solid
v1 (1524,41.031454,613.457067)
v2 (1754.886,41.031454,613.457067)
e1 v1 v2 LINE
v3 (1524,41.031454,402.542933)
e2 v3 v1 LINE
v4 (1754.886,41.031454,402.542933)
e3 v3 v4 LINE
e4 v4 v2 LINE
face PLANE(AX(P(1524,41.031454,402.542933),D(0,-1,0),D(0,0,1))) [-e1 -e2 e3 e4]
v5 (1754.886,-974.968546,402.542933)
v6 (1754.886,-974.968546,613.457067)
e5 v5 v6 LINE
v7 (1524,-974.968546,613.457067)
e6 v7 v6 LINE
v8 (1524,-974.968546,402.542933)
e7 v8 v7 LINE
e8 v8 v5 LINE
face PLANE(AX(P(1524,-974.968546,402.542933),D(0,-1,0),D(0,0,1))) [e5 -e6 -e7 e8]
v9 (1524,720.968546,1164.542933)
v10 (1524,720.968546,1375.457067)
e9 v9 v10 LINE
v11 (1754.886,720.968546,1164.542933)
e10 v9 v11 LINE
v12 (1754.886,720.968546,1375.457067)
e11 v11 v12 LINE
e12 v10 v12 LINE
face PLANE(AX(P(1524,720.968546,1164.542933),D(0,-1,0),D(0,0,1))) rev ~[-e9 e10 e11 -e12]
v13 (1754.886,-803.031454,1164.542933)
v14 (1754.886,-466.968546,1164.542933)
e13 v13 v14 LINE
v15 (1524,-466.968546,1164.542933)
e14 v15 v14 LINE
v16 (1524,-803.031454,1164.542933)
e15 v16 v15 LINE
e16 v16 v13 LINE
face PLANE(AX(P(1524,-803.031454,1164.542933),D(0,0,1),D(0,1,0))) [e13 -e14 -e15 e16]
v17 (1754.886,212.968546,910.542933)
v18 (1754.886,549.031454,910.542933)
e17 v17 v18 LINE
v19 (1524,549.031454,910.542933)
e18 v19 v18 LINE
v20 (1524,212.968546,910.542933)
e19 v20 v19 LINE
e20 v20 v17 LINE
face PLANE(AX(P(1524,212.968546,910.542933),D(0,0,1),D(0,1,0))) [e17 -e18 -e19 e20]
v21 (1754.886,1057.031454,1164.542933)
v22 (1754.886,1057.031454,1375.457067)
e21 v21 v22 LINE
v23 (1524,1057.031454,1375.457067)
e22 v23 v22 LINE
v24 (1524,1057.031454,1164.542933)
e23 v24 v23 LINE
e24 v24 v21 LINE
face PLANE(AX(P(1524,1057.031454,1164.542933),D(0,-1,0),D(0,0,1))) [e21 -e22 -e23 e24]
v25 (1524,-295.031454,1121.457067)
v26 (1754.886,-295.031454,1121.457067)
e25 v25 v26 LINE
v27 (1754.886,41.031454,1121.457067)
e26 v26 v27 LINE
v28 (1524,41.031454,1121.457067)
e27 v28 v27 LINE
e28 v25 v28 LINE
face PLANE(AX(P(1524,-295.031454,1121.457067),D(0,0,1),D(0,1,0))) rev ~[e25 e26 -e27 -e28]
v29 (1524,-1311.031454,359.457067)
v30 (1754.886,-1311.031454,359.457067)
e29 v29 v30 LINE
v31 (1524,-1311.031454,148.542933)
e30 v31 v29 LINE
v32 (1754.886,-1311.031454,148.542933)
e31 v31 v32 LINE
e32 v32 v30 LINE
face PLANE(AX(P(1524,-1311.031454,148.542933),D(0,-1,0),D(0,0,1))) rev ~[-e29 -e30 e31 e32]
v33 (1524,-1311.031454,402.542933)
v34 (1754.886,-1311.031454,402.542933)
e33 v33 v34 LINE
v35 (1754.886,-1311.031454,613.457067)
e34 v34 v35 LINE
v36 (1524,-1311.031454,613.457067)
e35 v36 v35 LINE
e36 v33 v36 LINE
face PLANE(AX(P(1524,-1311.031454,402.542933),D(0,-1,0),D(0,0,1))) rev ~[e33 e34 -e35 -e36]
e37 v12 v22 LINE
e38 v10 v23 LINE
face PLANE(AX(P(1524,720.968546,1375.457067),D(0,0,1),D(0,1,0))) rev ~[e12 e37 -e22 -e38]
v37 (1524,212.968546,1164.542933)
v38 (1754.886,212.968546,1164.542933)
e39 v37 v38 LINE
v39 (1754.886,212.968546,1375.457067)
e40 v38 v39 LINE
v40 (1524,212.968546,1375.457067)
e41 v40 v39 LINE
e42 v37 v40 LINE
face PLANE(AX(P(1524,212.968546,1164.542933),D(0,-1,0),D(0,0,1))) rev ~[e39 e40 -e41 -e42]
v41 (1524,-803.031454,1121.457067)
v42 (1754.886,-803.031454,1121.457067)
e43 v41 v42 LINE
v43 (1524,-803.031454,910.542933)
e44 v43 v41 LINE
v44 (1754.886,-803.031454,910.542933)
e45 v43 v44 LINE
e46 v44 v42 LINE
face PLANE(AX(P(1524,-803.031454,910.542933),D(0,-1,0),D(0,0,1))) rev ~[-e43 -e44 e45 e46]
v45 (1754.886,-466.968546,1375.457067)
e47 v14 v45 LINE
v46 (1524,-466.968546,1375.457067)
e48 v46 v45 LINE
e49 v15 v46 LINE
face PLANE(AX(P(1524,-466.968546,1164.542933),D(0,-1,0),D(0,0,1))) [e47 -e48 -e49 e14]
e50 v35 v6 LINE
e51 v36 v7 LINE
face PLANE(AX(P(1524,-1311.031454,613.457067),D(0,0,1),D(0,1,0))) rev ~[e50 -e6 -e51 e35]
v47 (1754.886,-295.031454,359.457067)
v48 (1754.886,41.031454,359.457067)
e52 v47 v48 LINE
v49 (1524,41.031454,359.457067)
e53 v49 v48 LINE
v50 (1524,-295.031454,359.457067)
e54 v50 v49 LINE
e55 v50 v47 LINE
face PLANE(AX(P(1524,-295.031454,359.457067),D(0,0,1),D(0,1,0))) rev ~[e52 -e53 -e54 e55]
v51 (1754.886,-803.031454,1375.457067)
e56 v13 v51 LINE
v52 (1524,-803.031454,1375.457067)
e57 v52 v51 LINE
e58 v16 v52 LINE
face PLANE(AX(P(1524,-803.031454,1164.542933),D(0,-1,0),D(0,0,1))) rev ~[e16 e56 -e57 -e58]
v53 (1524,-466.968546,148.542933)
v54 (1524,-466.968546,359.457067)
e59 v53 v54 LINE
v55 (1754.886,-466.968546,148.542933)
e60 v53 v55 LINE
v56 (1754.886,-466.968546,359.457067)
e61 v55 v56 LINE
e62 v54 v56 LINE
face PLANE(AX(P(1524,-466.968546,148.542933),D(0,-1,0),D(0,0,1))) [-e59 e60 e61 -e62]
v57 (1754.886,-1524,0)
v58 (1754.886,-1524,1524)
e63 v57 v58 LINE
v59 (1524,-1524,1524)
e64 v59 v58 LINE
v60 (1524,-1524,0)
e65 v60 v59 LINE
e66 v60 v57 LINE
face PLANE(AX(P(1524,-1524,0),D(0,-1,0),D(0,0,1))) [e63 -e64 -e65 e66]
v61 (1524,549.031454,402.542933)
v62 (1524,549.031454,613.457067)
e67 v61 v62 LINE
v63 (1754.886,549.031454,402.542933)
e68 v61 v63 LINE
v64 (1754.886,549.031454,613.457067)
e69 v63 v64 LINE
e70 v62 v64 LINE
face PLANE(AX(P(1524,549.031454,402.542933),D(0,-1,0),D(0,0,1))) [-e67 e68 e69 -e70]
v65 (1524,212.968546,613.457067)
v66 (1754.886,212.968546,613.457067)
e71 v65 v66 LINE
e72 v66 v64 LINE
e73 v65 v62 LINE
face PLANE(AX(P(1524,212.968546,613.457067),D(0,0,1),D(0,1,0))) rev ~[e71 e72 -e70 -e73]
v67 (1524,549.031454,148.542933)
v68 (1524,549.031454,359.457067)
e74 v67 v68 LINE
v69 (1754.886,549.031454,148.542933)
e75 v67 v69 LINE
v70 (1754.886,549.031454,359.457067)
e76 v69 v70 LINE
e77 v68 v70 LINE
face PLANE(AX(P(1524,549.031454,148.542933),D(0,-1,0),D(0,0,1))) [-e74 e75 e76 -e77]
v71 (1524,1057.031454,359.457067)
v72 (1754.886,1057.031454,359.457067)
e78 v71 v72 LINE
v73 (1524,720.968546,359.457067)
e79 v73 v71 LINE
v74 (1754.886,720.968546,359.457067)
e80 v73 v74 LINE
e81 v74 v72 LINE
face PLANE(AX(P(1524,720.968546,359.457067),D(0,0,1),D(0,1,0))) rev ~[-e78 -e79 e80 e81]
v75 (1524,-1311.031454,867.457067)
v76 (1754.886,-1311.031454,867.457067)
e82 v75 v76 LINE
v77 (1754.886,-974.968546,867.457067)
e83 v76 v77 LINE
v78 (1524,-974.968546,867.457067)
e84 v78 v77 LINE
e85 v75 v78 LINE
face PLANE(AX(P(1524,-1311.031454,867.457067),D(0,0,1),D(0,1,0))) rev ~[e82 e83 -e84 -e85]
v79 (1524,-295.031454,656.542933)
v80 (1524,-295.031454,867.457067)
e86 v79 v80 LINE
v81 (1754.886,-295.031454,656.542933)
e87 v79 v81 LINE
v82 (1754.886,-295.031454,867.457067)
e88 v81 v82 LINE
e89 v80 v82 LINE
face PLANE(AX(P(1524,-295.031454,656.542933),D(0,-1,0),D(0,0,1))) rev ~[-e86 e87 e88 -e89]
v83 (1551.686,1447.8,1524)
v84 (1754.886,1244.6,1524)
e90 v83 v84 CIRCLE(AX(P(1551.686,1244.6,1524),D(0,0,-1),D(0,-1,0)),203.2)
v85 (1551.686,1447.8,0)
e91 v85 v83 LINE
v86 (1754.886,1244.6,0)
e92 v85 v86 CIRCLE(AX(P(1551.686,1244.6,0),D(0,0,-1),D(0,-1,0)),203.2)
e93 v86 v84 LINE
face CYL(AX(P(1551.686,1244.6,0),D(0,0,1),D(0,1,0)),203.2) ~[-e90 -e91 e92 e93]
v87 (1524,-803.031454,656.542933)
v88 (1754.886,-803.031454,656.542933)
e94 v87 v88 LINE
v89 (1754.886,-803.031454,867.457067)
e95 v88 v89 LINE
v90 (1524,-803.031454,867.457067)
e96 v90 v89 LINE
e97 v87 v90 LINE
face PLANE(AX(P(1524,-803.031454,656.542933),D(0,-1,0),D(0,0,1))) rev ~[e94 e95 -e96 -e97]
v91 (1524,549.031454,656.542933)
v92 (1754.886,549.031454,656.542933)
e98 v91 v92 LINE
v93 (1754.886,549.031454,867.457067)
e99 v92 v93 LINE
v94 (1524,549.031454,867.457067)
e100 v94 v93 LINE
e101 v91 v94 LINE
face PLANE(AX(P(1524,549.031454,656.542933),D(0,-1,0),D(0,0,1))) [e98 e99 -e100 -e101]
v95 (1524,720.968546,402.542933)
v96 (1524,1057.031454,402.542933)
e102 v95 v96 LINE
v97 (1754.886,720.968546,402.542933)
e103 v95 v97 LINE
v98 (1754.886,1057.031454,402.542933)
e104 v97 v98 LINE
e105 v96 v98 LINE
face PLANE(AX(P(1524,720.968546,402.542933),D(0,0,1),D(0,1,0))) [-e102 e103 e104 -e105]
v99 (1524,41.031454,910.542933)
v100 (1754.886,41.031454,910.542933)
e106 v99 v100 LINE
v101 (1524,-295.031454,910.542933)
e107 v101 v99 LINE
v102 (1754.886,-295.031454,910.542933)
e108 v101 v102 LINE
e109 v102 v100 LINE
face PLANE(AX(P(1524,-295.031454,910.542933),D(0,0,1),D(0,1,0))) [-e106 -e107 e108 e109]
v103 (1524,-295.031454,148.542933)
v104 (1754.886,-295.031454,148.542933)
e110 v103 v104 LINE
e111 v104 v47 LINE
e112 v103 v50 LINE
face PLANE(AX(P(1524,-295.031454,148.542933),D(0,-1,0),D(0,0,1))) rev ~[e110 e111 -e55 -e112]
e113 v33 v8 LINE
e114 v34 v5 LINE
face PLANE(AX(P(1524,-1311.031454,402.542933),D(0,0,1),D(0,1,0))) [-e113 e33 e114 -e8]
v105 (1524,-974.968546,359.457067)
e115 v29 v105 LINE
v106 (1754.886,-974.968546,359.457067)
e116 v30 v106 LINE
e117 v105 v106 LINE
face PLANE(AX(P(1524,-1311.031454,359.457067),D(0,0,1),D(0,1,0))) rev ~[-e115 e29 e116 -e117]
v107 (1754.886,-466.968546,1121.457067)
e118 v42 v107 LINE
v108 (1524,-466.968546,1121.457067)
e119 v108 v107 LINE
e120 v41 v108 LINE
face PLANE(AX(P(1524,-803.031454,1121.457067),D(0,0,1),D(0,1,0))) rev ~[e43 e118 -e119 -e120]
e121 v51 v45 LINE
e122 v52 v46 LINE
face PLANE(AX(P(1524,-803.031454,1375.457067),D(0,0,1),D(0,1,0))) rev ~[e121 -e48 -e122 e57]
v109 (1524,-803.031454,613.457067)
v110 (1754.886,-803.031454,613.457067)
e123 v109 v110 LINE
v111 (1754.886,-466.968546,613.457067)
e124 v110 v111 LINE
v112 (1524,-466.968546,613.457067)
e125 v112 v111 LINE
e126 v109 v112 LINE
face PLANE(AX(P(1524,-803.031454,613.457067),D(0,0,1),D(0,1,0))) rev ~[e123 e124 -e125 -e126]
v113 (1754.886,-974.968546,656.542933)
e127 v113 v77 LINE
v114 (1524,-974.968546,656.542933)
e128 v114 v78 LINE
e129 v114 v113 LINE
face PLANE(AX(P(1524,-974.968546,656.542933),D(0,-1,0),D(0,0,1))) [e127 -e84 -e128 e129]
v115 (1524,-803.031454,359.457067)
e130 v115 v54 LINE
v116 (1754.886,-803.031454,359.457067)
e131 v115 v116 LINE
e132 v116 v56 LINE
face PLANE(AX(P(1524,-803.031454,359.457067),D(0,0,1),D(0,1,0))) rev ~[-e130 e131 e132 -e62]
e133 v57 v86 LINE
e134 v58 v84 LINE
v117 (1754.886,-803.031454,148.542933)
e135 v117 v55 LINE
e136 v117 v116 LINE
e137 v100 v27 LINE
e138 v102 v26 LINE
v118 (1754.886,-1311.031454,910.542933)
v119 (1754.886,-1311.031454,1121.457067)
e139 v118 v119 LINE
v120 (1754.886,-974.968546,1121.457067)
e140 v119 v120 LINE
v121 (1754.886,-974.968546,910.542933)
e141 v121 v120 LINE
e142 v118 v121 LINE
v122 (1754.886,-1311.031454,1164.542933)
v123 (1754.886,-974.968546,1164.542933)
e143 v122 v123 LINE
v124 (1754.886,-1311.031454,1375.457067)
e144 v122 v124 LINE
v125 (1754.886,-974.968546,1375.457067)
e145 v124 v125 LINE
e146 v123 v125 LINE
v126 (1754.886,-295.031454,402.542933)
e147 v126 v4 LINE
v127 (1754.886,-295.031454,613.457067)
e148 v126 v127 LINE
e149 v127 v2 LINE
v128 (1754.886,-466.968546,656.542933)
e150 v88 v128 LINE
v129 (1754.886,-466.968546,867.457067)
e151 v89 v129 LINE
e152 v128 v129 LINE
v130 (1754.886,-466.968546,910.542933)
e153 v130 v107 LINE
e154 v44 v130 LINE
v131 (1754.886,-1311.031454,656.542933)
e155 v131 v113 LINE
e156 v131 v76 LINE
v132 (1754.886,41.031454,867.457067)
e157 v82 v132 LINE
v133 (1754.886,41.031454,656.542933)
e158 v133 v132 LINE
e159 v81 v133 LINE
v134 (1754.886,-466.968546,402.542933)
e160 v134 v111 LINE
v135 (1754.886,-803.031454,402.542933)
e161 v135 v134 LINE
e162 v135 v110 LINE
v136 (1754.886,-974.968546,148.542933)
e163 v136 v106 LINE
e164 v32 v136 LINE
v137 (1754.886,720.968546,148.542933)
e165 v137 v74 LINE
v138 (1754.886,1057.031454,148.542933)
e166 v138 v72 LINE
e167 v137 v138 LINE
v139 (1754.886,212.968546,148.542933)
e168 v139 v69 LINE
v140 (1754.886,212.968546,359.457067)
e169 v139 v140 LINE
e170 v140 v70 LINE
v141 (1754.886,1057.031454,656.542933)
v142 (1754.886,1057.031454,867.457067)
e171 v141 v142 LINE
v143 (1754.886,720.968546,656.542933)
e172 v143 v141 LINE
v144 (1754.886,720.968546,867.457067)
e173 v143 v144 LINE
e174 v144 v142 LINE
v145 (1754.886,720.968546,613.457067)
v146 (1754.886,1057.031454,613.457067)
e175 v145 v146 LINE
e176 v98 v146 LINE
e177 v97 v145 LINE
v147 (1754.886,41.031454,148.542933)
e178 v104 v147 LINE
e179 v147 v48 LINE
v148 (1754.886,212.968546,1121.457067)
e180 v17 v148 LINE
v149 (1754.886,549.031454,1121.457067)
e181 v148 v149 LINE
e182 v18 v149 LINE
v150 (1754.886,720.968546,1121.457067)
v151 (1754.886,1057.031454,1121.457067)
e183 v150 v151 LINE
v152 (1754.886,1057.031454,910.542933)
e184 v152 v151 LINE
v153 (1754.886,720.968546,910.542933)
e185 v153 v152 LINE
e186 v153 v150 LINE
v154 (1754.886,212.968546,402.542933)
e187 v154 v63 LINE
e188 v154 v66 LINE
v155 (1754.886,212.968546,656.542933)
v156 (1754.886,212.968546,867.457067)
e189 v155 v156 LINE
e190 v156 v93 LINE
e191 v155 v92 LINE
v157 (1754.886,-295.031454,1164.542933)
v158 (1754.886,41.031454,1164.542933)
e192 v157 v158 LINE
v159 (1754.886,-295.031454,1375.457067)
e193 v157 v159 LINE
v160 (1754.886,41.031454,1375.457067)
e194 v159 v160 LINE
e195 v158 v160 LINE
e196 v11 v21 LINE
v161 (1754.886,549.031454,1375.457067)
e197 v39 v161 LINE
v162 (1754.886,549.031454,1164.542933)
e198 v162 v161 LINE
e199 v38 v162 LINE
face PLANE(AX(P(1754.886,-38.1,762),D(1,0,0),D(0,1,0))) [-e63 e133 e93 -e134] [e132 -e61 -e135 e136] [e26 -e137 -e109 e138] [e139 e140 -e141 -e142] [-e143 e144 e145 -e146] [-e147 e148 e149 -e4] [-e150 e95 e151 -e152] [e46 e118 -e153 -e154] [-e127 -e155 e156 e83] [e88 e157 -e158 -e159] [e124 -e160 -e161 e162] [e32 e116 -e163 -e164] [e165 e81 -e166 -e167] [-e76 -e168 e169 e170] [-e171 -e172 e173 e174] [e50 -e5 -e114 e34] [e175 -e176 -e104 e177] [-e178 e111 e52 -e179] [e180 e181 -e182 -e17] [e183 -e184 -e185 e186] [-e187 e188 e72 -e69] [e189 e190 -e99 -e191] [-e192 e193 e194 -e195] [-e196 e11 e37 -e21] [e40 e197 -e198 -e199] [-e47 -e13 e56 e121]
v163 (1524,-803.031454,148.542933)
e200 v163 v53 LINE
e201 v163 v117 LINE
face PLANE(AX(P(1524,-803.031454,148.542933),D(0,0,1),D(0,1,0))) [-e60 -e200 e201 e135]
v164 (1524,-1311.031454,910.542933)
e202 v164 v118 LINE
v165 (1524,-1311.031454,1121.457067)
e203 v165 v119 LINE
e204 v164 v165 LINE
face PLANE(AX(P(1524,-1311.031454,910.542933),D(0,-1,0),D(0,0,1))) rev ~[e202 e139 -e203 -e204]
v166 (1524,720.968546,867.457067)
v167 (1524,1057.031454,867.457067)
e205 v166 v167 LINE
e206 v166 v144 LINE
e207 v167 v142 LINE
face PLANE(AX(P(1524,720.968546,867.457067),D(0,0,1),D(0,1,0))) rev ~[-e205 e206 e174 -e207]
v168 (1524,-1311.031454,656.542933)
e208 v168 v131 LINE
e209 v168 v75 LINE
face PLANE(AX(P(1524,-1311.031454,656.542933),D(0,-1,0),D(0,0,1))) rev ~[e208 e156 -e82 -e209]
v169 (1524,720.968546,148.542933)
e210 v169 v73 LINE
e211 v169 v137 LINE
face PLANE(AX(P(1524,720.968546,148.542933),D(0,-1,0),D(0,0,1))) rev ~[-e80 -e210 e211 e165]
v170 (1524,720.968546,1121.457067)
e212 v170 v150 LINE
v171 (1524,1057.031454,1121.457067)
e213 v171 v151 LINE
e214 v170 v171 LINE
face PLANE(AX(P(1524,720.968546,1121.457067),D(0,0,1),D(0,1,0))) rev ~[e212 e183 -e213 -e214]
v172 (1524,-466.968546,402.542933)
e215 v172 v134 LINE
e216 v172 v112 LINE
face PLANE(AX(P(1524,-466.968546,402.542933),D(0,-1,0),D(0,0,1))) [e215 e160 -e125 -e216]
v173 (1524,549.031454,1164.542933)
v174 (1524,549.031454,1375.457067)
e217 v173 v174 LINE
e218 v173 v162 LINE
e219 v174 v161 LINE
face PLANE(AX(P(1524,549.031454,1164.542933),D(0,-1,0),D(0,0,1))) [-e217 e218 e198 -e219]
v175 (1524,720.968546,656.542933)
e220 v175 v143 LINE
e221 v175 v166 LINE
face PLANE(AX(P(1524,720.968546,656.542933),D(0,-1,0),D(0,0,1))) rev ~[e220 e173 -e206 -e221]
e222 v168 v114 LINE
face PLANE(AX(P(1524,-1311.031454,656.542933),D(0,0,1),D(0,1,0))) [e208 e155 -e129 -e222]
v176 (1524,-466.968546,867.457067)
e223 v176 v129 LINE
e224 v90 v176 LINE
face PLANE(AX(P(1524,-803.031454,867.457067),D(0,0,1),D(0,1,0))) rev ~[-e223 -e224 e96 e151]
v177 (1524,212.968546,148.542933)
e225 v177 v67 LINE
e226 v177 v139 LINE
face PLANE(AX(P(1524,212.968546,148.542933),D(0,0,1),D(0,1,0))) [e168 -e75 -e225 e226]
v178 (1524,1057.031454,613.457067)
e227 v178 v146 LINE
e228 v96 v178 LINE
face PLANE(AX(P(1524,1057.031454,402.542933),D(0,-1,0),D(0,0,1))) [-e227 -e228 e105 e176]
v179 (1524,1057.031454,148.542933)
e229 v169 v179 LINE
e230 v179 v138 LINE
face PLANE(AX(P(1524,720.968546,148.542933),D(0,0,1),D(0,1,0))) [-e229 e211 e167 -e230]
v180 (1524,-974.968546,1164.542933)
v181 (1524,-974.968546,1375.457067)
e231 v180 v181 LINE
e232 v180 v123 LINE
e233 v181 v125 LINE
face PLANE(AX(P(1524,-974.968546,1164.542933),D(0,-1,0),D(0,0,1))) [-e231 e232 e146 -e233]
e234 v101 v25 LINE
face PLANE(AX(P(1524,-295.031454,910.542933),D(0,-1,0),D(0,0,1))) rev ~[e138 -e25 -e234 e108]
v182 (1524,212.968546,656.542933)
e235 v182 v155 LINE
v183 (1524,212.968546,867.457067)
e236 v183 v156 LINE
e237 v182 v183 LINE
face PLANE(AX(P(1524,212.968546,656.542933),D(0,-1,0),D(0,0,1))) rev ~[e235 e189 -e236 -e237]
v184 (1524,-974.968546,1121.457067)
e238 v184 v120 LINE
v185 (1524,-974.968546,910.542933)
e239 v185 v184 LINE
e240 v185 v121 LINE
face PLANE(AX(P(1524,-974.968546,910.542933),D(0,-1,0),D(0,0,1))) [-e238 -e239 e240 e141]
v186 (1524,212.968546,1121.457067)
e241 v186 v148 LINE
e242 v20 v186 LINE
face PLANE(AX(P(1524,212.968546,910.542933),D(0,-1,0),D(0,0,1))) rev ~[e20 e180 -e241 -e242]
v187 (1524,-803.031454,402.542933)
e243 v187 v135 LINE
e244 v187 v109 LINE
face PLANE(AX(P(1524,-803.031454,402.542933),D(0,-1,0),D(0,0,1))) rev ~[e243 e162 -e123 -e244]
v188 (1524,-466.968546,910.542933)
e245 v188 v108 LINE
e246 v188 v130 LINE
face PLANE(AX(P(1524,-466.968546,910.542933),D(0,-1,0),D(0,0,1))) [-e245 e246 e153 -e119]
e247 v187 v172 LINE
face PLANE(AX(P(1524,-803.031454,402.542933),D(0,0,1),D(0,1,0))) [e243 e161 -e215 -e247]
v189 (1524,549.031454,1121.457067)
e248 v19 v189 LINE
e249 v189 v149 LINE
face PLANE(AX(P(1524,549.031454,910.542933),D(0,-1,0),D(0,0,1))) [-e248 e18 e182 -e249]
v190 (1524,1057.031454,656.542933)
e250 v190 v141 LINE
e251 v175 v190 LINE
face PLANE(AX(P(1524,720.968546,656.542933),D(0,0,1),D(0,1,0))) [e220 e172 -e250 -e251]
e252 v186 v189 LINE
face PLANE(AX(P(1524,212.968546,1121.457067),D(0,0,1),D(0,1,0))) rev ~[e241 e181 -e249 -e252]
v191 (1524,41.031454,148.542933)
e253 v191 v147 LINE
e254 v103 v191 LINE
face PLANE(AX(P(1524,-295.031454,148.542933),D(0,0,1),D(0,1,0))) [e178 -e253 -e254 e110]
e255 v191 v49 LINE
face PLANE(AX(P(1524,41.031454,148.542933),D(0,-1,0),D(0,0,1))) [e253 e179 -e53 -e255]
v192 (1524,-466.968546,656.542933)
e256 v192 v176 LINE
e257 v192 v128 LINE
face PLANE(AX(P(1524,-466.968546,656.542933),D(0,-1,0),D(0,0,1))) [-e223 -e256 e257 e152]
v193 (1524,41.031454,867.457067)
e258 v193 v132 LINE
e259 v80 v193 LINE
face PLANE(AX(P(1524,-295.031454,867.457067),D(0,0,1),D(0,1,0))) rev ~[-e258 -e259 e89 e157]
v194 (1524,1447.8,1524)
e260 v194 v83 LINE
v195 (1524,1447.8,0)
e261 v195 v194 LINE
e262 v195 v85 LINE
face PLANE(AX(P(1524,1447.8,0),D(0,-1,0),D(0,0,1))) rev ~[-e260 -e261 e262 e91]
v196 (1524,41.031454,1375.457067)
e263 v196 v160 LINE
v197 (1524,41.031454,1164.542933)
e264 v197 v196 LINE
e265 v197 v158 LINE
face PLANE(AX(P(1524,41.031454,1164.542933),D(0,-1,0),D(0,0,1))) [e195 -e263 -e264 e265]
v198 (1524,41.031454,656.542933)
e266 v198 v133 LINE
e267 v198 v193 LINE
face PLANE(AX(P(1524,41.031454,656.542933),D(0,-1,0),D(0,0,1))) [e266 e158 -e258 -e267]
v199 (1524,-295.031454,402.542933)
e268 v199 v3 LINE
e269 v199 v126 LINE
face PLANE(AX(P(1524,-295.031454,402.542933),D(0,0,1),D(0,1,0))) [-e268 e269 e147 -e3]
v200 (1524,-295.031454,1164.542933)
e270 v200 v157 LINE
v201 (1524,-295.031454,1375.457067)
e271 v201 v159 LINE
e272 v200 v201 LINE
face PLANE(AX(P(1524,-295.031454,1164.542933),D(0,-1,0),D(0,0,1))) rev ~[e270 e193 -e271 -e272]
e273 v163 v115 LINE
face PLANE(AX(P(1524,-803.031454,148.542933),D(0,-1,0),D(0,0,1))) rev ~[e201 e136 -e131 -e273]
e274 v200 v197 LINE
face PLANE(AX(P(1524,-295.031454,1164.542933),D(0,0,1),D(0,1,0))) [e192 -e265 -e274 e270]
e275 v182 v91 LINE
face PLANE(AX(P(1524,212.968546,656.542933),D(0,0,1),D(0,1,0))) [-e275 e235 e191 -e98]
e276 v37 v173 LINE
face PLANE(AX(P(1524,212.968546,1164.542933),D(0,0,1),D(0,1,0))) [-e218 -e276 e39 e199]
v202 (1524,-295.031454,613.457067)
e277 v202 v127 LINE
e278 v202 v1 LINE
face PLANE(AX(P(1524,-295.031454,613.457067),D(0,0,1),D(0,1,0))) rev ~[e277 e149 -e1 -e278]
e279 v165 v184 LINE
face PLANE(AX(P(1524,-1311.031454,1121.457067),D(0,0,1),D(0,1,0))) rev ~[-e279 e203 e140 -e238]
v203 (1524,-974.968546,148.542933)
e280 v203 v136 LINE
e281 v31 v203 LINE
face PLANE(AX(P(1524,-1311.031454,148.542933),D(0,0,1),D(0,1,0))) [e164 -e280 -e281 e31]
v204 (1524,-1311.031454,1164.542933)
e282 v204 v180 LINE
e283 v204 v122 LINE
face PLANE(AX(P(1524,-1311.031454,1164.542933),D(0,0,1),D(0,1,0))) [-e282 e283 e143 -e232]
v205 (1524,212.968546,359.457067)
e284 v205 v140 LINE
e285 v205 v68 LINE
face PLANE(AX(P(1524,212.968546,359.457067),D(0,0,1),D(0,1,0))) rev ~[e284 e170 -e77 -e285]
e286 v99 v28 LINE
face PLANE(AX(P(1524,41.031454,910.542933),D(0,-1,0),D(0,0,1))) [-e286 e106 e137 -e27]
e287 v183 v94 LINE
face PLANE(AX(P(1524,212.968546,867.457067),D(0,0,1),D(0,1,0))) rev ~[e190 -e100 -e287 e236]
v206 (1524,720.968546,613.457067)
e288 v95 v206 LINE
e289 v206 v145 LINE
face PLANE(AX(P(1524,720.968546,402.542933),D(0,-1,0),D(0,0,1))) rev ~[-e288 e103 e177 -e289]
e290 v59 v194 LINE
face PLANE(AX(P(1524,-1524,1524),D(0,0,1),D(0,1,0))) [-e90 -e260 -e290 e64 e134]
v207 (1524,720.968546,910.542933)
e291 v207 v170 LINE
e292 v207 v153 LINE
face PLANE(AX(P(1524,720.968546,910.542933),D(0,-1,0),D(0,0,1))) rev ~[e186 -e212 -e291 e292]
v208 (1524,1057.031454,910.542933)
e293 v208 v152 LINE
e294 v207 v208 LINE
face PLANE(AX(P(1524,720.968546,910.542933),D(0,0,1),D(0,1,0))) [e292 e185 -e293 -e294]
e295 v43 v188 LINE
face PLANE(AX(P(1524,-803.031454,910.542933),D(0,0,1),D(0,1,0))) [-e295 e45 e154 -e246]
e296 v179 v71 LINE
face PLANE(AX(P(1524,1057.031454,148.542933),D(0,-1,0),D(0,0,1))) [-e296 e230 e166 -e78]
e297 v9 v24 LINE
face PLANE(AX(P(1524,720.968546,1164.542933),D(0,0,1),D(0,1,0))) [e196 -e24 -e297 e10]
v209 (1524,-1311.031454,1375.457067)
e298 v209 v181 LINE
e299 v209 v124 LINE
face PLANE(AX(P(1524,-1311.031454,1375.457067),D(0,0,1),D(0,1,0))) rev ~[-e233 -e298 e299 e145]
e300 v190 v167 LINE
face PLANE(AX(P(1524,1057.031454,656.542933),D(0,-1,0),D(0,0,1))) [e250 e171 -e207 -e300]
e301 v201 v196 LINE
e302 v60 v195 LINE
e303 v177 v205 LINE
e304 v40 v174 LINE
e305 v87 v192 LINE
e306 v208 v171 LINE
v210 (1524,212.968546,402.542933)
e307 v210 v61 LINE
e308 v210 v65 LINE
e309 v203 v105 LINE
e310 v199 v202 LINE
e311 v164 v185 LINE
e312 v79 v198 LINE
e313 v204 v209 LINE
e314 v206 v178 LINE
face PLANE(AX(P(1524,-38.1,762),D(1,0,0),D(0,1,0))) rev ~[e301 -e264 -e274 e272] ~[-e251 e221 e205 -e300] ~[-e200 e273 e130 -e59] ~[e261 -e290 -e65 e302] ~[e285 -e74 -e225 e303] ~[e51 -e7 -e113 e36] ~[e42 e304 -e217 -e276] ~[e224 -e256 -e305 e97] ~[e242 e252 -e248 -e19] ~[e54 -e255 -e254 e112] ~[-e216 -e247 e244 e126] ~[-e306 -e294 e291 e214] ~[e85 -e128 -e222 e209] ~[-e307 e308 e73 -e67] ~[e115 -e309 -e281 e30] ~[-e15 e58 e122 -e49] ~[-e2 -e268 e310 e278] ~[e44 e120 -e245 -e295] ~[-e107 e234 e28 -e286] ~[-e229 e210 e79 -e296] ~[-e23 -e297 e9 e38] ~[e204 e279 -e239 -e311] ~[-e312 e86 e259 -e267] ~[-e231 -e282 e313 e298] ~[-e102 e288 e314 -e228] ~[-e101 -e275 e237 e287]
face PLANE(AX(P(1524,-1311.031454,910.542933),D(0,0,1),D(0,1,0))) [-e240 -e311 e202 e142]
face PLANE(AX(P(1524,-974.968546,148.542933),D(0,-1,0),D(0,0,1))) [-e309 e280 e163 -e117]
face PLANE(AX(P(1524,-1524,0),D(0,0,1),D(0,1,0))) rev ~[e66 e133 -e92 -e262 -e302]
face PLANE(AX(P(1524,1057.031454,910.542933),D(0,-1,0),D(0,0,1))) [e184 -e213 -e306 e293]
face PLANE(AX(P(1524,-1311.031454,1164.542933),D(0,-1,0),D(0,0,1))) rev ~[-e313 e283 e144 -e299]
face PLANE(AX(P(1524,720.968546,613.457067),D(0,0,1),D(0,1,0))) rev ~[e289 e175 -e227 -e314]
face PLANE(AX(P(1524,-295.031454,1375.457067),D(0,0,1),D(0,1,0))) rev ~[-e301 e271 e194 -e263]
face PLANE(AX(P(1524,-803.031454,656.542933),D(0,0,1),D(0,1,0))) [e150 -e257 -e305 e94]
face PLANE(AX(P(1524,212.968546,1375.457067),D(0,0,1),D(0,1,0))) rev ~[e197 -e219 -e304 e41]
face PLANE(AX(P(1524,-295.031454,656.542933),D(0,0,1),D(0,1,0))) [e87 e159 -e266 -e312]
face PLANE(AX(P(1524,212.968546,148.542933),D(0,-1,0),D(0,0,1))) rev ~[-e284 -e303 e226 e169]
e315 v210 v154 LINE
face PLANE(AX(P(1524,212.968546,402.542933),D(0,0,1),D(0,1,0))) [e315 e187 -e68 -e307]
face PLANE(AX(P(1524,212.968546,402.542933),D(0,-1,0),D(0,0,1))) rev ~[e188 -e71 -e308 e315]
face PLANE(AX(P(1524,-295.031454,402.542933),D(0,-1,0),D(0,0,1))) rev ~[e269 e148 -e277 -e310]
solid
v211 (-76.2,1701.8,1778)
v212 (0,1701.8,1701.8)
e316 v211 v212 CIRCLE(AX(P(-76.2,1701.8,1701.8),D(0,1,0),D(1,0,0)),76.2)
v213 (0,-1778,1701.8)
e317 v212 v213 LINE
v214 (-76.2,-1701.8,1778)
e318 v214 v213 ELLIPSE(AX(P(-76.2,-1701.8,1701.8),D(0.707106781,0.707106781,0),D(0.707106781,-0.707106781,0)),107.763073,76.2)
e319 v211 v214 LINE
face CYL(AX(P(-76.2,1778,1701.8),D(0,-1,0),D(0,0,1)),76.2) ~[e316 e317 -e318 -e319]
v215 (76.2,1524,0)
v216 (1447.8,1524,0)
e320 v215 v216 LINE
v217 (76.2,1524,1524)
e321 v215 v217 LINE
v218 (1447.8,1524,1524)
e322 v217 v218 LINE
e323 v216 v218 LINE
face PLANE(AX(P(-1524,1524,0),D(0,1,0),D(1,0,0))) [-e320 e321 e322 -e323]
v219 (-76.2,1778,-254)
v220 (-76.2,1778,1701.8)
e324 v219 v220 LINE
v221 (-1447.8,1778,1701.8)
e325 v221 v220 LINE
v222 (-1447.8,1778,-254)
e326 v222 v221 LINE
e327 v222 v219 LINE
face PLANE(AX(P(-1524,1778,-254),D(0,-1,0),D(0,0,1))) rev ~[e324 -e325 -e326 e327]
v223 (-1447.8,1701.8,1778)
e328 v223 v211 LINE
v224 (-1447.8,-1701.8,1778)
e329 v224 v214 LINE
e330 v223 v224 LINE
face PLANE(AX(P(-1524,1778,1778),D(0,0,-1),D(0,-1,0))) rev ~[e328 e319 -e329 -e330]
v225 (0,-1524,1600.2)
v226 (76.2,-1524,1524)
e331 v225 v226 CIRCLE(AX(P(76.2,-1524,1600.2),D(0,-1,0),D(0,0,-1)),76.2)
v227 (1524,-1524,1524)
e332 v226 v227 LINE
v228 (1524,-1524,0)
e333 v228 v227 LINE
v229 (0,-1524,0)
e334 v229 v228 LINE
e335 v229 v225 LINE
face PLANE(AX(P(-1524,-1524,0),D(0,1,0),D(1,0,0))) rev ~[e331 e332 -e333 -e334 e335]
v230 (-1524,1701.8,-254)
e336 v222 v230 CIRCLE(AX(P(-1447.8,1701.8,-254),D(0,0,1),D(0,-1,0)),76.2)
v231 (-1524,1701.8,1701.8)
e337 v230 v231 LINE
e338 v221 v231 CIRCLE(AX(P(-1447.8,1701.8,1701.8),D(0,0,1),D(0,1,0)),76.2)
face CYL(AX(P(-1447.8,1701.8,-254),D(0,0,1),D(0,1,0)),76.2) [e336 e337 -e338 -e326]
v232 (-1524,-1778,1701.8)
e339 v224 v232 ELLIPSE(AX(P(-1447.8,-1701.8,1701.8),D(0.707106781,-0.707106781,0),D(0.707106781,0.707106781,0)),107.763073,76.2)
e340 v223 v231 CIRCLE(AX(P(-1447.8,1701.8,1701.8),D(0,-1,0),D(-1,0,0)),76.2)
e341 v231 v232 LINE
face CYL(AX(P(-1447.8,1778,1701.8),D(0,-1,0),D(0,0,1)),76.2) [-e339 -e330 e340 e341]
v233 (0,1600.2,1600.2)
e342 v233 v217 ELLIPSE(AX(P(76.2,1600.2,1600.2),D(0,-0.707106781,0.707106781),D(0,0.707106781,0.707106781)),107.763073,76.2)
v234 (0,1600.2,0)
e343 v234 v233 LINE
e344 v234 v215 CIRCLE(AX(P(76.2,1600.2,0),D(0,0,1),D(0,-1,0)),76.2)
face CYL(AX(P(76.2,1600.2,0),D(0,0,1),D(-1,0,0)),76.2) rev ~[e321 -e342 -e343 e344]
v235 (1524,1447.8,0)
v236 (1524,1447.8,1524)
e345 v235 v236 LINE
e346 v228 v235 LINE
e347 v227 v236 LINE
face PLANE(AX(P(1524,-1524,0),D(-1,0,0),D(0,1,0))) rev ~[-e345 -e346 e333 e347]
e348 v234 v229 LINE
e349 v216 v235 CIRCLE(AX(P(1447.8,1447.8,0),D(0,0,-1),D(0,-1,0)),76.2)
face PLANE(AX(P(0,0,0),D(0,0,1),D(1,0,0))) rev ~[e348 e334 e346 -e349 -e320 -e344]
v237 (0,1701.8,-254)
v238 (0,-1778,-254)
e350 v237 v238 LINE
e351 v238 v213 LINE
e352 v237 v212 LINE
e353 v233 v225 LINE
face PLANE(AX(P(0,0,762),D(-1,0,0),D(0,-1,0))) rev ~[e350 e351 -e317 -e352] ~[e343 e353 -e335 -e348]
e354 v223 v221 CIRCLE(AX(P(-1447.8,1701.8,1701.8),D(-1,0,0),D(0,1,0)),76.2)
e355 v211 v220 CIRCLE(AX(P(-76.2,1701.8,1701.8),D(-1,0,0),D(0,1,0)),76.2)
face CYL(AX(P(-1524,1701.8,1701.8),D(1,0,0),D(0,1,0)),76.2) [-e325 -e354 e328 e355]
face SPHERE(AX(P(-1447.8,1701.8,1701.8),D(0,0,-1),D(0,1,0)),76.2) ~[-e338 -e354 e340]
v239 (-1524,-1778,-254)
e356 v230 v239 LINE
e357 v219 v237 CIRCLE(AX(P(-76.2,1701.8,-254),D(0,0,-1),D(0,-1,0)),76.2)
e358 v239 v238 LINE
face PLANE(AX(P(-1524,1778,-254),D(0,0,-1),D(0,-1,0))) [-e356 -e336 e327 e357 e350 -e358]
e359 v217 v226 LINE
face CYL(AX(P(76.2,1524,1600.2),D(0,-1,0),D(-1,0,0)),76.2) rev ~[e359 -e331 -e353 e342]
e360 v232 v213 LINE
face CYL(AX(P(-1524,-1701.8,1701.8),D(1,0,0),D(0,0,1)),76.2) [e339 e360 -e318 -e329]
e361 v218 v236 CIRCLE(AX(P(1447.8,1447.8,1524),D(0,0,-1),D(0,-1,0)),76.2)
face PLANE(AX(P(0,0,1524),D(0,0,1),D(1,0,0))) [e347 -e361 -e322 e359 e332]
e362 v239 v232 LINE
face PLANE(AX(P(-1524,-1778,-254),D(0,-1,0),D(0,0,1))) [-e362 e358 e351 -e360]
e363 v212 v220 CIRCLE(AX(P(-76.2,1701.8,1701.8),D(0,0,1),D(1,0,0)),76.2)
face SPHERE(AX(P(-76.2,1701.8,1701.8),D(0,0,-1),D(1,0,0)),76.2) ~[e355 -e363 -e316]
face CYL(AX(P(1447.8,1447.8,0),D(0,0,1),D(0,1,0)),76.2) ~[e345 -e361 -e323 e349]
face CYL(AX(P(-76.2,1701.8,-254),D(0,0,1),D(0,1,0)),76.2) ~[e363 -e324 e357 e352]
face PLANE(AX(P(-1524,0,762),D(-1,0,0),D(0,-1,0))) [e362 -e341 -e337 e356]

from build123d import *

# Parameters (mm, degrees)
F0_W     = 3048
F0_H     = 3048
F1_DEPTH = 1524
F2_W     = 3556
F2_H     = 2032
F2_W_2   = 3048
F2_H_2   = 1524
F3_DEPTH = 1524
F4_R     = 76.2
F5_W     = 2971.8
F5_H     = 1524
F5_W_2   = 336.062908
F5_H_2   = 210.914134
F6_DEPTH = 230.886
F7_R     = 203.2


with BuildPart() as f1:
    # F0 (on Top) → F1 (new body)
    with BuildSketch(Plane.XY):
        Rectangle(F0_W, F0_H)
    extrude(amount=F1_DEPTH)

    # F2 (on face) → F3 (join)
    with BuildSketch(Plane(origin=(-1524, 0, 0), x_dir=(0, -1, 0), z_dir=(-1, 0, 0))):
        with Locations((0, 762)):
            Rectangle(F2_W, F2_H)
        with Locations((0, 762)):
            Rectangle(F2_W_2, F2_H_2, mode=Mode.SUBTRACT)
    extrude(amount=-F3_DEPTH)

    # F4
    f4_edges = [f1.edges().sort_by_distance(p)[0] for p in [
        (1524, 1524, 762),
        (0, 1524, 762),
        (0, 1778, 762),
        (-1524, 1778, 762),
        (0, 0, 1778),
        (0, 0, 1524),
        (-762, -1778, 1778),
        (-762, 1778, 1778),
        (-1524, 0, 1778),
    ]]
    fillet(f4_edges, radius=F4_R)


with BuildPart() as f6:
    # F5 (on face) → F6 (new body)
    with BuildSketch(Plane.YZ.offset(1524)):
        with Locations((-38.1, 762)):
            Rectangle(F5_W, F5_H)
        with Locations((-1143, 254)):
            Rectangle(F5_W_2, F5_H_2, mode=Mode.SUBTRACT)
        with Locations((-635, 254)):
            Rectangle(F5_W_2, F5_H_2, mode=Mode.SUBTRACT)
        with Locations((-127, 254)):
            Rectangle(F5_W_2, F5_H_2, mode=Mode.SUBTRACT)
        with Locations((-1143, 508)):
            Rectangle(F5_W_2, F5_H_2, mode=Mode.SUBTRACT)
        with Locations((-635, 508)):
            Rectangle(F5_W_2, F5_H_2, mode=Mode.SUBTRACT)
        with Locations((-127, 508)):
            Rectangle(F5_W_2, F5_H_2, mode=Mode.SUBTRACT)
        with Locations((381, 254)):
            Rectangle(F5_W_2, F5_H_2, mode=Mode.SUBTRACT)
        with Locations((889, 254)):
            Rectangle(F5_W_2, F5_H_2, mode=Mode.SUBTRACT)
        with Locations((381, 508)):
            Rectangle(F5_W_2, F5_H_2, mode=Mode.SUBTRACT)
        with Locations((889, 508)):
            Rectangle(F5_W_2, F5_H_2, mode=Mode.SUBTRACT)
        with Locations((-1143, 762)):
            Rectangle(F5_W_2, F5_H_2, mode=Mode.SUBTRACT)
        with Locations((-1143, 1016)):
            Rectangle(F5_W_2, F5_H_2, mode=Mode.SUBTRACT)
        with Locations((-635, 762)):
            Rectangle(F5_W_2, F5_H_2, mode=Mode.SUBTRACT)
        with Locations((-127, 762)):
            Rectangle(F5_W_2, F5_H_2, mode=Mode.SUBTRACT)
        with Locations((-635, 1016)):
            Rectangle(F5_W_2, F5_H_2, mode=Mode.SUBTRACT)
        with Locations((-127, 1016)):
            Rectangle(F5_W_2, F5_H_2, mode=Mode.SUBTRACT)
        with Locations((-1143, 1270)):
            Rectangle(F5_W_2, F5_H_2, mode=Mode.SUBTRACT)
        with Locations((-635, 1270)):
            Rectangle(F5_W_2, F5_H_2, mode=Mode.SUBTRACT)
        with Locations((-127, 1270)):
            Rectangle(F5_W_2, F5_H_2, mode=Mode.SUBTRACT)
        with Locations((381, 762)):
            Rectangle(F5_W_2, F5_H_2, mode=Mode.SUBTRACT)
        with Locations((381, 1016)):
            Rectangle(F5_W_2, F5_H_2, mode=Mode.SUBTRACT)
        with Locations((889, 762)):
            Rectangle(F5_W_2, F5_H_2, mode=Mode.SUBTRACT)
        with Locations((889, 1016)):
            Rectangle(F5_W_2, F5_H_2, mode=Mode.SUBTRACT)
        with Locations((381, 1270)):
            Rectangle(F5_W_2, F5_H_2, mode=Mode.SUBTRACT)
        with Locations((889, 1270)):
            Rectangle(F5_W_2, F5_H_2, mode=Mode.SUBTRACT)
    extrude(amount=F6_DEPTH)

    # F7
    f7_edges = [f6.edges().sort_by_distance(p)[0] for p in [
        (1754.886, 1447.8, 762),
    ]]
    fillet(f7_edges, radius=F7_R)


solid = Compound([f1.part, f6.part])
